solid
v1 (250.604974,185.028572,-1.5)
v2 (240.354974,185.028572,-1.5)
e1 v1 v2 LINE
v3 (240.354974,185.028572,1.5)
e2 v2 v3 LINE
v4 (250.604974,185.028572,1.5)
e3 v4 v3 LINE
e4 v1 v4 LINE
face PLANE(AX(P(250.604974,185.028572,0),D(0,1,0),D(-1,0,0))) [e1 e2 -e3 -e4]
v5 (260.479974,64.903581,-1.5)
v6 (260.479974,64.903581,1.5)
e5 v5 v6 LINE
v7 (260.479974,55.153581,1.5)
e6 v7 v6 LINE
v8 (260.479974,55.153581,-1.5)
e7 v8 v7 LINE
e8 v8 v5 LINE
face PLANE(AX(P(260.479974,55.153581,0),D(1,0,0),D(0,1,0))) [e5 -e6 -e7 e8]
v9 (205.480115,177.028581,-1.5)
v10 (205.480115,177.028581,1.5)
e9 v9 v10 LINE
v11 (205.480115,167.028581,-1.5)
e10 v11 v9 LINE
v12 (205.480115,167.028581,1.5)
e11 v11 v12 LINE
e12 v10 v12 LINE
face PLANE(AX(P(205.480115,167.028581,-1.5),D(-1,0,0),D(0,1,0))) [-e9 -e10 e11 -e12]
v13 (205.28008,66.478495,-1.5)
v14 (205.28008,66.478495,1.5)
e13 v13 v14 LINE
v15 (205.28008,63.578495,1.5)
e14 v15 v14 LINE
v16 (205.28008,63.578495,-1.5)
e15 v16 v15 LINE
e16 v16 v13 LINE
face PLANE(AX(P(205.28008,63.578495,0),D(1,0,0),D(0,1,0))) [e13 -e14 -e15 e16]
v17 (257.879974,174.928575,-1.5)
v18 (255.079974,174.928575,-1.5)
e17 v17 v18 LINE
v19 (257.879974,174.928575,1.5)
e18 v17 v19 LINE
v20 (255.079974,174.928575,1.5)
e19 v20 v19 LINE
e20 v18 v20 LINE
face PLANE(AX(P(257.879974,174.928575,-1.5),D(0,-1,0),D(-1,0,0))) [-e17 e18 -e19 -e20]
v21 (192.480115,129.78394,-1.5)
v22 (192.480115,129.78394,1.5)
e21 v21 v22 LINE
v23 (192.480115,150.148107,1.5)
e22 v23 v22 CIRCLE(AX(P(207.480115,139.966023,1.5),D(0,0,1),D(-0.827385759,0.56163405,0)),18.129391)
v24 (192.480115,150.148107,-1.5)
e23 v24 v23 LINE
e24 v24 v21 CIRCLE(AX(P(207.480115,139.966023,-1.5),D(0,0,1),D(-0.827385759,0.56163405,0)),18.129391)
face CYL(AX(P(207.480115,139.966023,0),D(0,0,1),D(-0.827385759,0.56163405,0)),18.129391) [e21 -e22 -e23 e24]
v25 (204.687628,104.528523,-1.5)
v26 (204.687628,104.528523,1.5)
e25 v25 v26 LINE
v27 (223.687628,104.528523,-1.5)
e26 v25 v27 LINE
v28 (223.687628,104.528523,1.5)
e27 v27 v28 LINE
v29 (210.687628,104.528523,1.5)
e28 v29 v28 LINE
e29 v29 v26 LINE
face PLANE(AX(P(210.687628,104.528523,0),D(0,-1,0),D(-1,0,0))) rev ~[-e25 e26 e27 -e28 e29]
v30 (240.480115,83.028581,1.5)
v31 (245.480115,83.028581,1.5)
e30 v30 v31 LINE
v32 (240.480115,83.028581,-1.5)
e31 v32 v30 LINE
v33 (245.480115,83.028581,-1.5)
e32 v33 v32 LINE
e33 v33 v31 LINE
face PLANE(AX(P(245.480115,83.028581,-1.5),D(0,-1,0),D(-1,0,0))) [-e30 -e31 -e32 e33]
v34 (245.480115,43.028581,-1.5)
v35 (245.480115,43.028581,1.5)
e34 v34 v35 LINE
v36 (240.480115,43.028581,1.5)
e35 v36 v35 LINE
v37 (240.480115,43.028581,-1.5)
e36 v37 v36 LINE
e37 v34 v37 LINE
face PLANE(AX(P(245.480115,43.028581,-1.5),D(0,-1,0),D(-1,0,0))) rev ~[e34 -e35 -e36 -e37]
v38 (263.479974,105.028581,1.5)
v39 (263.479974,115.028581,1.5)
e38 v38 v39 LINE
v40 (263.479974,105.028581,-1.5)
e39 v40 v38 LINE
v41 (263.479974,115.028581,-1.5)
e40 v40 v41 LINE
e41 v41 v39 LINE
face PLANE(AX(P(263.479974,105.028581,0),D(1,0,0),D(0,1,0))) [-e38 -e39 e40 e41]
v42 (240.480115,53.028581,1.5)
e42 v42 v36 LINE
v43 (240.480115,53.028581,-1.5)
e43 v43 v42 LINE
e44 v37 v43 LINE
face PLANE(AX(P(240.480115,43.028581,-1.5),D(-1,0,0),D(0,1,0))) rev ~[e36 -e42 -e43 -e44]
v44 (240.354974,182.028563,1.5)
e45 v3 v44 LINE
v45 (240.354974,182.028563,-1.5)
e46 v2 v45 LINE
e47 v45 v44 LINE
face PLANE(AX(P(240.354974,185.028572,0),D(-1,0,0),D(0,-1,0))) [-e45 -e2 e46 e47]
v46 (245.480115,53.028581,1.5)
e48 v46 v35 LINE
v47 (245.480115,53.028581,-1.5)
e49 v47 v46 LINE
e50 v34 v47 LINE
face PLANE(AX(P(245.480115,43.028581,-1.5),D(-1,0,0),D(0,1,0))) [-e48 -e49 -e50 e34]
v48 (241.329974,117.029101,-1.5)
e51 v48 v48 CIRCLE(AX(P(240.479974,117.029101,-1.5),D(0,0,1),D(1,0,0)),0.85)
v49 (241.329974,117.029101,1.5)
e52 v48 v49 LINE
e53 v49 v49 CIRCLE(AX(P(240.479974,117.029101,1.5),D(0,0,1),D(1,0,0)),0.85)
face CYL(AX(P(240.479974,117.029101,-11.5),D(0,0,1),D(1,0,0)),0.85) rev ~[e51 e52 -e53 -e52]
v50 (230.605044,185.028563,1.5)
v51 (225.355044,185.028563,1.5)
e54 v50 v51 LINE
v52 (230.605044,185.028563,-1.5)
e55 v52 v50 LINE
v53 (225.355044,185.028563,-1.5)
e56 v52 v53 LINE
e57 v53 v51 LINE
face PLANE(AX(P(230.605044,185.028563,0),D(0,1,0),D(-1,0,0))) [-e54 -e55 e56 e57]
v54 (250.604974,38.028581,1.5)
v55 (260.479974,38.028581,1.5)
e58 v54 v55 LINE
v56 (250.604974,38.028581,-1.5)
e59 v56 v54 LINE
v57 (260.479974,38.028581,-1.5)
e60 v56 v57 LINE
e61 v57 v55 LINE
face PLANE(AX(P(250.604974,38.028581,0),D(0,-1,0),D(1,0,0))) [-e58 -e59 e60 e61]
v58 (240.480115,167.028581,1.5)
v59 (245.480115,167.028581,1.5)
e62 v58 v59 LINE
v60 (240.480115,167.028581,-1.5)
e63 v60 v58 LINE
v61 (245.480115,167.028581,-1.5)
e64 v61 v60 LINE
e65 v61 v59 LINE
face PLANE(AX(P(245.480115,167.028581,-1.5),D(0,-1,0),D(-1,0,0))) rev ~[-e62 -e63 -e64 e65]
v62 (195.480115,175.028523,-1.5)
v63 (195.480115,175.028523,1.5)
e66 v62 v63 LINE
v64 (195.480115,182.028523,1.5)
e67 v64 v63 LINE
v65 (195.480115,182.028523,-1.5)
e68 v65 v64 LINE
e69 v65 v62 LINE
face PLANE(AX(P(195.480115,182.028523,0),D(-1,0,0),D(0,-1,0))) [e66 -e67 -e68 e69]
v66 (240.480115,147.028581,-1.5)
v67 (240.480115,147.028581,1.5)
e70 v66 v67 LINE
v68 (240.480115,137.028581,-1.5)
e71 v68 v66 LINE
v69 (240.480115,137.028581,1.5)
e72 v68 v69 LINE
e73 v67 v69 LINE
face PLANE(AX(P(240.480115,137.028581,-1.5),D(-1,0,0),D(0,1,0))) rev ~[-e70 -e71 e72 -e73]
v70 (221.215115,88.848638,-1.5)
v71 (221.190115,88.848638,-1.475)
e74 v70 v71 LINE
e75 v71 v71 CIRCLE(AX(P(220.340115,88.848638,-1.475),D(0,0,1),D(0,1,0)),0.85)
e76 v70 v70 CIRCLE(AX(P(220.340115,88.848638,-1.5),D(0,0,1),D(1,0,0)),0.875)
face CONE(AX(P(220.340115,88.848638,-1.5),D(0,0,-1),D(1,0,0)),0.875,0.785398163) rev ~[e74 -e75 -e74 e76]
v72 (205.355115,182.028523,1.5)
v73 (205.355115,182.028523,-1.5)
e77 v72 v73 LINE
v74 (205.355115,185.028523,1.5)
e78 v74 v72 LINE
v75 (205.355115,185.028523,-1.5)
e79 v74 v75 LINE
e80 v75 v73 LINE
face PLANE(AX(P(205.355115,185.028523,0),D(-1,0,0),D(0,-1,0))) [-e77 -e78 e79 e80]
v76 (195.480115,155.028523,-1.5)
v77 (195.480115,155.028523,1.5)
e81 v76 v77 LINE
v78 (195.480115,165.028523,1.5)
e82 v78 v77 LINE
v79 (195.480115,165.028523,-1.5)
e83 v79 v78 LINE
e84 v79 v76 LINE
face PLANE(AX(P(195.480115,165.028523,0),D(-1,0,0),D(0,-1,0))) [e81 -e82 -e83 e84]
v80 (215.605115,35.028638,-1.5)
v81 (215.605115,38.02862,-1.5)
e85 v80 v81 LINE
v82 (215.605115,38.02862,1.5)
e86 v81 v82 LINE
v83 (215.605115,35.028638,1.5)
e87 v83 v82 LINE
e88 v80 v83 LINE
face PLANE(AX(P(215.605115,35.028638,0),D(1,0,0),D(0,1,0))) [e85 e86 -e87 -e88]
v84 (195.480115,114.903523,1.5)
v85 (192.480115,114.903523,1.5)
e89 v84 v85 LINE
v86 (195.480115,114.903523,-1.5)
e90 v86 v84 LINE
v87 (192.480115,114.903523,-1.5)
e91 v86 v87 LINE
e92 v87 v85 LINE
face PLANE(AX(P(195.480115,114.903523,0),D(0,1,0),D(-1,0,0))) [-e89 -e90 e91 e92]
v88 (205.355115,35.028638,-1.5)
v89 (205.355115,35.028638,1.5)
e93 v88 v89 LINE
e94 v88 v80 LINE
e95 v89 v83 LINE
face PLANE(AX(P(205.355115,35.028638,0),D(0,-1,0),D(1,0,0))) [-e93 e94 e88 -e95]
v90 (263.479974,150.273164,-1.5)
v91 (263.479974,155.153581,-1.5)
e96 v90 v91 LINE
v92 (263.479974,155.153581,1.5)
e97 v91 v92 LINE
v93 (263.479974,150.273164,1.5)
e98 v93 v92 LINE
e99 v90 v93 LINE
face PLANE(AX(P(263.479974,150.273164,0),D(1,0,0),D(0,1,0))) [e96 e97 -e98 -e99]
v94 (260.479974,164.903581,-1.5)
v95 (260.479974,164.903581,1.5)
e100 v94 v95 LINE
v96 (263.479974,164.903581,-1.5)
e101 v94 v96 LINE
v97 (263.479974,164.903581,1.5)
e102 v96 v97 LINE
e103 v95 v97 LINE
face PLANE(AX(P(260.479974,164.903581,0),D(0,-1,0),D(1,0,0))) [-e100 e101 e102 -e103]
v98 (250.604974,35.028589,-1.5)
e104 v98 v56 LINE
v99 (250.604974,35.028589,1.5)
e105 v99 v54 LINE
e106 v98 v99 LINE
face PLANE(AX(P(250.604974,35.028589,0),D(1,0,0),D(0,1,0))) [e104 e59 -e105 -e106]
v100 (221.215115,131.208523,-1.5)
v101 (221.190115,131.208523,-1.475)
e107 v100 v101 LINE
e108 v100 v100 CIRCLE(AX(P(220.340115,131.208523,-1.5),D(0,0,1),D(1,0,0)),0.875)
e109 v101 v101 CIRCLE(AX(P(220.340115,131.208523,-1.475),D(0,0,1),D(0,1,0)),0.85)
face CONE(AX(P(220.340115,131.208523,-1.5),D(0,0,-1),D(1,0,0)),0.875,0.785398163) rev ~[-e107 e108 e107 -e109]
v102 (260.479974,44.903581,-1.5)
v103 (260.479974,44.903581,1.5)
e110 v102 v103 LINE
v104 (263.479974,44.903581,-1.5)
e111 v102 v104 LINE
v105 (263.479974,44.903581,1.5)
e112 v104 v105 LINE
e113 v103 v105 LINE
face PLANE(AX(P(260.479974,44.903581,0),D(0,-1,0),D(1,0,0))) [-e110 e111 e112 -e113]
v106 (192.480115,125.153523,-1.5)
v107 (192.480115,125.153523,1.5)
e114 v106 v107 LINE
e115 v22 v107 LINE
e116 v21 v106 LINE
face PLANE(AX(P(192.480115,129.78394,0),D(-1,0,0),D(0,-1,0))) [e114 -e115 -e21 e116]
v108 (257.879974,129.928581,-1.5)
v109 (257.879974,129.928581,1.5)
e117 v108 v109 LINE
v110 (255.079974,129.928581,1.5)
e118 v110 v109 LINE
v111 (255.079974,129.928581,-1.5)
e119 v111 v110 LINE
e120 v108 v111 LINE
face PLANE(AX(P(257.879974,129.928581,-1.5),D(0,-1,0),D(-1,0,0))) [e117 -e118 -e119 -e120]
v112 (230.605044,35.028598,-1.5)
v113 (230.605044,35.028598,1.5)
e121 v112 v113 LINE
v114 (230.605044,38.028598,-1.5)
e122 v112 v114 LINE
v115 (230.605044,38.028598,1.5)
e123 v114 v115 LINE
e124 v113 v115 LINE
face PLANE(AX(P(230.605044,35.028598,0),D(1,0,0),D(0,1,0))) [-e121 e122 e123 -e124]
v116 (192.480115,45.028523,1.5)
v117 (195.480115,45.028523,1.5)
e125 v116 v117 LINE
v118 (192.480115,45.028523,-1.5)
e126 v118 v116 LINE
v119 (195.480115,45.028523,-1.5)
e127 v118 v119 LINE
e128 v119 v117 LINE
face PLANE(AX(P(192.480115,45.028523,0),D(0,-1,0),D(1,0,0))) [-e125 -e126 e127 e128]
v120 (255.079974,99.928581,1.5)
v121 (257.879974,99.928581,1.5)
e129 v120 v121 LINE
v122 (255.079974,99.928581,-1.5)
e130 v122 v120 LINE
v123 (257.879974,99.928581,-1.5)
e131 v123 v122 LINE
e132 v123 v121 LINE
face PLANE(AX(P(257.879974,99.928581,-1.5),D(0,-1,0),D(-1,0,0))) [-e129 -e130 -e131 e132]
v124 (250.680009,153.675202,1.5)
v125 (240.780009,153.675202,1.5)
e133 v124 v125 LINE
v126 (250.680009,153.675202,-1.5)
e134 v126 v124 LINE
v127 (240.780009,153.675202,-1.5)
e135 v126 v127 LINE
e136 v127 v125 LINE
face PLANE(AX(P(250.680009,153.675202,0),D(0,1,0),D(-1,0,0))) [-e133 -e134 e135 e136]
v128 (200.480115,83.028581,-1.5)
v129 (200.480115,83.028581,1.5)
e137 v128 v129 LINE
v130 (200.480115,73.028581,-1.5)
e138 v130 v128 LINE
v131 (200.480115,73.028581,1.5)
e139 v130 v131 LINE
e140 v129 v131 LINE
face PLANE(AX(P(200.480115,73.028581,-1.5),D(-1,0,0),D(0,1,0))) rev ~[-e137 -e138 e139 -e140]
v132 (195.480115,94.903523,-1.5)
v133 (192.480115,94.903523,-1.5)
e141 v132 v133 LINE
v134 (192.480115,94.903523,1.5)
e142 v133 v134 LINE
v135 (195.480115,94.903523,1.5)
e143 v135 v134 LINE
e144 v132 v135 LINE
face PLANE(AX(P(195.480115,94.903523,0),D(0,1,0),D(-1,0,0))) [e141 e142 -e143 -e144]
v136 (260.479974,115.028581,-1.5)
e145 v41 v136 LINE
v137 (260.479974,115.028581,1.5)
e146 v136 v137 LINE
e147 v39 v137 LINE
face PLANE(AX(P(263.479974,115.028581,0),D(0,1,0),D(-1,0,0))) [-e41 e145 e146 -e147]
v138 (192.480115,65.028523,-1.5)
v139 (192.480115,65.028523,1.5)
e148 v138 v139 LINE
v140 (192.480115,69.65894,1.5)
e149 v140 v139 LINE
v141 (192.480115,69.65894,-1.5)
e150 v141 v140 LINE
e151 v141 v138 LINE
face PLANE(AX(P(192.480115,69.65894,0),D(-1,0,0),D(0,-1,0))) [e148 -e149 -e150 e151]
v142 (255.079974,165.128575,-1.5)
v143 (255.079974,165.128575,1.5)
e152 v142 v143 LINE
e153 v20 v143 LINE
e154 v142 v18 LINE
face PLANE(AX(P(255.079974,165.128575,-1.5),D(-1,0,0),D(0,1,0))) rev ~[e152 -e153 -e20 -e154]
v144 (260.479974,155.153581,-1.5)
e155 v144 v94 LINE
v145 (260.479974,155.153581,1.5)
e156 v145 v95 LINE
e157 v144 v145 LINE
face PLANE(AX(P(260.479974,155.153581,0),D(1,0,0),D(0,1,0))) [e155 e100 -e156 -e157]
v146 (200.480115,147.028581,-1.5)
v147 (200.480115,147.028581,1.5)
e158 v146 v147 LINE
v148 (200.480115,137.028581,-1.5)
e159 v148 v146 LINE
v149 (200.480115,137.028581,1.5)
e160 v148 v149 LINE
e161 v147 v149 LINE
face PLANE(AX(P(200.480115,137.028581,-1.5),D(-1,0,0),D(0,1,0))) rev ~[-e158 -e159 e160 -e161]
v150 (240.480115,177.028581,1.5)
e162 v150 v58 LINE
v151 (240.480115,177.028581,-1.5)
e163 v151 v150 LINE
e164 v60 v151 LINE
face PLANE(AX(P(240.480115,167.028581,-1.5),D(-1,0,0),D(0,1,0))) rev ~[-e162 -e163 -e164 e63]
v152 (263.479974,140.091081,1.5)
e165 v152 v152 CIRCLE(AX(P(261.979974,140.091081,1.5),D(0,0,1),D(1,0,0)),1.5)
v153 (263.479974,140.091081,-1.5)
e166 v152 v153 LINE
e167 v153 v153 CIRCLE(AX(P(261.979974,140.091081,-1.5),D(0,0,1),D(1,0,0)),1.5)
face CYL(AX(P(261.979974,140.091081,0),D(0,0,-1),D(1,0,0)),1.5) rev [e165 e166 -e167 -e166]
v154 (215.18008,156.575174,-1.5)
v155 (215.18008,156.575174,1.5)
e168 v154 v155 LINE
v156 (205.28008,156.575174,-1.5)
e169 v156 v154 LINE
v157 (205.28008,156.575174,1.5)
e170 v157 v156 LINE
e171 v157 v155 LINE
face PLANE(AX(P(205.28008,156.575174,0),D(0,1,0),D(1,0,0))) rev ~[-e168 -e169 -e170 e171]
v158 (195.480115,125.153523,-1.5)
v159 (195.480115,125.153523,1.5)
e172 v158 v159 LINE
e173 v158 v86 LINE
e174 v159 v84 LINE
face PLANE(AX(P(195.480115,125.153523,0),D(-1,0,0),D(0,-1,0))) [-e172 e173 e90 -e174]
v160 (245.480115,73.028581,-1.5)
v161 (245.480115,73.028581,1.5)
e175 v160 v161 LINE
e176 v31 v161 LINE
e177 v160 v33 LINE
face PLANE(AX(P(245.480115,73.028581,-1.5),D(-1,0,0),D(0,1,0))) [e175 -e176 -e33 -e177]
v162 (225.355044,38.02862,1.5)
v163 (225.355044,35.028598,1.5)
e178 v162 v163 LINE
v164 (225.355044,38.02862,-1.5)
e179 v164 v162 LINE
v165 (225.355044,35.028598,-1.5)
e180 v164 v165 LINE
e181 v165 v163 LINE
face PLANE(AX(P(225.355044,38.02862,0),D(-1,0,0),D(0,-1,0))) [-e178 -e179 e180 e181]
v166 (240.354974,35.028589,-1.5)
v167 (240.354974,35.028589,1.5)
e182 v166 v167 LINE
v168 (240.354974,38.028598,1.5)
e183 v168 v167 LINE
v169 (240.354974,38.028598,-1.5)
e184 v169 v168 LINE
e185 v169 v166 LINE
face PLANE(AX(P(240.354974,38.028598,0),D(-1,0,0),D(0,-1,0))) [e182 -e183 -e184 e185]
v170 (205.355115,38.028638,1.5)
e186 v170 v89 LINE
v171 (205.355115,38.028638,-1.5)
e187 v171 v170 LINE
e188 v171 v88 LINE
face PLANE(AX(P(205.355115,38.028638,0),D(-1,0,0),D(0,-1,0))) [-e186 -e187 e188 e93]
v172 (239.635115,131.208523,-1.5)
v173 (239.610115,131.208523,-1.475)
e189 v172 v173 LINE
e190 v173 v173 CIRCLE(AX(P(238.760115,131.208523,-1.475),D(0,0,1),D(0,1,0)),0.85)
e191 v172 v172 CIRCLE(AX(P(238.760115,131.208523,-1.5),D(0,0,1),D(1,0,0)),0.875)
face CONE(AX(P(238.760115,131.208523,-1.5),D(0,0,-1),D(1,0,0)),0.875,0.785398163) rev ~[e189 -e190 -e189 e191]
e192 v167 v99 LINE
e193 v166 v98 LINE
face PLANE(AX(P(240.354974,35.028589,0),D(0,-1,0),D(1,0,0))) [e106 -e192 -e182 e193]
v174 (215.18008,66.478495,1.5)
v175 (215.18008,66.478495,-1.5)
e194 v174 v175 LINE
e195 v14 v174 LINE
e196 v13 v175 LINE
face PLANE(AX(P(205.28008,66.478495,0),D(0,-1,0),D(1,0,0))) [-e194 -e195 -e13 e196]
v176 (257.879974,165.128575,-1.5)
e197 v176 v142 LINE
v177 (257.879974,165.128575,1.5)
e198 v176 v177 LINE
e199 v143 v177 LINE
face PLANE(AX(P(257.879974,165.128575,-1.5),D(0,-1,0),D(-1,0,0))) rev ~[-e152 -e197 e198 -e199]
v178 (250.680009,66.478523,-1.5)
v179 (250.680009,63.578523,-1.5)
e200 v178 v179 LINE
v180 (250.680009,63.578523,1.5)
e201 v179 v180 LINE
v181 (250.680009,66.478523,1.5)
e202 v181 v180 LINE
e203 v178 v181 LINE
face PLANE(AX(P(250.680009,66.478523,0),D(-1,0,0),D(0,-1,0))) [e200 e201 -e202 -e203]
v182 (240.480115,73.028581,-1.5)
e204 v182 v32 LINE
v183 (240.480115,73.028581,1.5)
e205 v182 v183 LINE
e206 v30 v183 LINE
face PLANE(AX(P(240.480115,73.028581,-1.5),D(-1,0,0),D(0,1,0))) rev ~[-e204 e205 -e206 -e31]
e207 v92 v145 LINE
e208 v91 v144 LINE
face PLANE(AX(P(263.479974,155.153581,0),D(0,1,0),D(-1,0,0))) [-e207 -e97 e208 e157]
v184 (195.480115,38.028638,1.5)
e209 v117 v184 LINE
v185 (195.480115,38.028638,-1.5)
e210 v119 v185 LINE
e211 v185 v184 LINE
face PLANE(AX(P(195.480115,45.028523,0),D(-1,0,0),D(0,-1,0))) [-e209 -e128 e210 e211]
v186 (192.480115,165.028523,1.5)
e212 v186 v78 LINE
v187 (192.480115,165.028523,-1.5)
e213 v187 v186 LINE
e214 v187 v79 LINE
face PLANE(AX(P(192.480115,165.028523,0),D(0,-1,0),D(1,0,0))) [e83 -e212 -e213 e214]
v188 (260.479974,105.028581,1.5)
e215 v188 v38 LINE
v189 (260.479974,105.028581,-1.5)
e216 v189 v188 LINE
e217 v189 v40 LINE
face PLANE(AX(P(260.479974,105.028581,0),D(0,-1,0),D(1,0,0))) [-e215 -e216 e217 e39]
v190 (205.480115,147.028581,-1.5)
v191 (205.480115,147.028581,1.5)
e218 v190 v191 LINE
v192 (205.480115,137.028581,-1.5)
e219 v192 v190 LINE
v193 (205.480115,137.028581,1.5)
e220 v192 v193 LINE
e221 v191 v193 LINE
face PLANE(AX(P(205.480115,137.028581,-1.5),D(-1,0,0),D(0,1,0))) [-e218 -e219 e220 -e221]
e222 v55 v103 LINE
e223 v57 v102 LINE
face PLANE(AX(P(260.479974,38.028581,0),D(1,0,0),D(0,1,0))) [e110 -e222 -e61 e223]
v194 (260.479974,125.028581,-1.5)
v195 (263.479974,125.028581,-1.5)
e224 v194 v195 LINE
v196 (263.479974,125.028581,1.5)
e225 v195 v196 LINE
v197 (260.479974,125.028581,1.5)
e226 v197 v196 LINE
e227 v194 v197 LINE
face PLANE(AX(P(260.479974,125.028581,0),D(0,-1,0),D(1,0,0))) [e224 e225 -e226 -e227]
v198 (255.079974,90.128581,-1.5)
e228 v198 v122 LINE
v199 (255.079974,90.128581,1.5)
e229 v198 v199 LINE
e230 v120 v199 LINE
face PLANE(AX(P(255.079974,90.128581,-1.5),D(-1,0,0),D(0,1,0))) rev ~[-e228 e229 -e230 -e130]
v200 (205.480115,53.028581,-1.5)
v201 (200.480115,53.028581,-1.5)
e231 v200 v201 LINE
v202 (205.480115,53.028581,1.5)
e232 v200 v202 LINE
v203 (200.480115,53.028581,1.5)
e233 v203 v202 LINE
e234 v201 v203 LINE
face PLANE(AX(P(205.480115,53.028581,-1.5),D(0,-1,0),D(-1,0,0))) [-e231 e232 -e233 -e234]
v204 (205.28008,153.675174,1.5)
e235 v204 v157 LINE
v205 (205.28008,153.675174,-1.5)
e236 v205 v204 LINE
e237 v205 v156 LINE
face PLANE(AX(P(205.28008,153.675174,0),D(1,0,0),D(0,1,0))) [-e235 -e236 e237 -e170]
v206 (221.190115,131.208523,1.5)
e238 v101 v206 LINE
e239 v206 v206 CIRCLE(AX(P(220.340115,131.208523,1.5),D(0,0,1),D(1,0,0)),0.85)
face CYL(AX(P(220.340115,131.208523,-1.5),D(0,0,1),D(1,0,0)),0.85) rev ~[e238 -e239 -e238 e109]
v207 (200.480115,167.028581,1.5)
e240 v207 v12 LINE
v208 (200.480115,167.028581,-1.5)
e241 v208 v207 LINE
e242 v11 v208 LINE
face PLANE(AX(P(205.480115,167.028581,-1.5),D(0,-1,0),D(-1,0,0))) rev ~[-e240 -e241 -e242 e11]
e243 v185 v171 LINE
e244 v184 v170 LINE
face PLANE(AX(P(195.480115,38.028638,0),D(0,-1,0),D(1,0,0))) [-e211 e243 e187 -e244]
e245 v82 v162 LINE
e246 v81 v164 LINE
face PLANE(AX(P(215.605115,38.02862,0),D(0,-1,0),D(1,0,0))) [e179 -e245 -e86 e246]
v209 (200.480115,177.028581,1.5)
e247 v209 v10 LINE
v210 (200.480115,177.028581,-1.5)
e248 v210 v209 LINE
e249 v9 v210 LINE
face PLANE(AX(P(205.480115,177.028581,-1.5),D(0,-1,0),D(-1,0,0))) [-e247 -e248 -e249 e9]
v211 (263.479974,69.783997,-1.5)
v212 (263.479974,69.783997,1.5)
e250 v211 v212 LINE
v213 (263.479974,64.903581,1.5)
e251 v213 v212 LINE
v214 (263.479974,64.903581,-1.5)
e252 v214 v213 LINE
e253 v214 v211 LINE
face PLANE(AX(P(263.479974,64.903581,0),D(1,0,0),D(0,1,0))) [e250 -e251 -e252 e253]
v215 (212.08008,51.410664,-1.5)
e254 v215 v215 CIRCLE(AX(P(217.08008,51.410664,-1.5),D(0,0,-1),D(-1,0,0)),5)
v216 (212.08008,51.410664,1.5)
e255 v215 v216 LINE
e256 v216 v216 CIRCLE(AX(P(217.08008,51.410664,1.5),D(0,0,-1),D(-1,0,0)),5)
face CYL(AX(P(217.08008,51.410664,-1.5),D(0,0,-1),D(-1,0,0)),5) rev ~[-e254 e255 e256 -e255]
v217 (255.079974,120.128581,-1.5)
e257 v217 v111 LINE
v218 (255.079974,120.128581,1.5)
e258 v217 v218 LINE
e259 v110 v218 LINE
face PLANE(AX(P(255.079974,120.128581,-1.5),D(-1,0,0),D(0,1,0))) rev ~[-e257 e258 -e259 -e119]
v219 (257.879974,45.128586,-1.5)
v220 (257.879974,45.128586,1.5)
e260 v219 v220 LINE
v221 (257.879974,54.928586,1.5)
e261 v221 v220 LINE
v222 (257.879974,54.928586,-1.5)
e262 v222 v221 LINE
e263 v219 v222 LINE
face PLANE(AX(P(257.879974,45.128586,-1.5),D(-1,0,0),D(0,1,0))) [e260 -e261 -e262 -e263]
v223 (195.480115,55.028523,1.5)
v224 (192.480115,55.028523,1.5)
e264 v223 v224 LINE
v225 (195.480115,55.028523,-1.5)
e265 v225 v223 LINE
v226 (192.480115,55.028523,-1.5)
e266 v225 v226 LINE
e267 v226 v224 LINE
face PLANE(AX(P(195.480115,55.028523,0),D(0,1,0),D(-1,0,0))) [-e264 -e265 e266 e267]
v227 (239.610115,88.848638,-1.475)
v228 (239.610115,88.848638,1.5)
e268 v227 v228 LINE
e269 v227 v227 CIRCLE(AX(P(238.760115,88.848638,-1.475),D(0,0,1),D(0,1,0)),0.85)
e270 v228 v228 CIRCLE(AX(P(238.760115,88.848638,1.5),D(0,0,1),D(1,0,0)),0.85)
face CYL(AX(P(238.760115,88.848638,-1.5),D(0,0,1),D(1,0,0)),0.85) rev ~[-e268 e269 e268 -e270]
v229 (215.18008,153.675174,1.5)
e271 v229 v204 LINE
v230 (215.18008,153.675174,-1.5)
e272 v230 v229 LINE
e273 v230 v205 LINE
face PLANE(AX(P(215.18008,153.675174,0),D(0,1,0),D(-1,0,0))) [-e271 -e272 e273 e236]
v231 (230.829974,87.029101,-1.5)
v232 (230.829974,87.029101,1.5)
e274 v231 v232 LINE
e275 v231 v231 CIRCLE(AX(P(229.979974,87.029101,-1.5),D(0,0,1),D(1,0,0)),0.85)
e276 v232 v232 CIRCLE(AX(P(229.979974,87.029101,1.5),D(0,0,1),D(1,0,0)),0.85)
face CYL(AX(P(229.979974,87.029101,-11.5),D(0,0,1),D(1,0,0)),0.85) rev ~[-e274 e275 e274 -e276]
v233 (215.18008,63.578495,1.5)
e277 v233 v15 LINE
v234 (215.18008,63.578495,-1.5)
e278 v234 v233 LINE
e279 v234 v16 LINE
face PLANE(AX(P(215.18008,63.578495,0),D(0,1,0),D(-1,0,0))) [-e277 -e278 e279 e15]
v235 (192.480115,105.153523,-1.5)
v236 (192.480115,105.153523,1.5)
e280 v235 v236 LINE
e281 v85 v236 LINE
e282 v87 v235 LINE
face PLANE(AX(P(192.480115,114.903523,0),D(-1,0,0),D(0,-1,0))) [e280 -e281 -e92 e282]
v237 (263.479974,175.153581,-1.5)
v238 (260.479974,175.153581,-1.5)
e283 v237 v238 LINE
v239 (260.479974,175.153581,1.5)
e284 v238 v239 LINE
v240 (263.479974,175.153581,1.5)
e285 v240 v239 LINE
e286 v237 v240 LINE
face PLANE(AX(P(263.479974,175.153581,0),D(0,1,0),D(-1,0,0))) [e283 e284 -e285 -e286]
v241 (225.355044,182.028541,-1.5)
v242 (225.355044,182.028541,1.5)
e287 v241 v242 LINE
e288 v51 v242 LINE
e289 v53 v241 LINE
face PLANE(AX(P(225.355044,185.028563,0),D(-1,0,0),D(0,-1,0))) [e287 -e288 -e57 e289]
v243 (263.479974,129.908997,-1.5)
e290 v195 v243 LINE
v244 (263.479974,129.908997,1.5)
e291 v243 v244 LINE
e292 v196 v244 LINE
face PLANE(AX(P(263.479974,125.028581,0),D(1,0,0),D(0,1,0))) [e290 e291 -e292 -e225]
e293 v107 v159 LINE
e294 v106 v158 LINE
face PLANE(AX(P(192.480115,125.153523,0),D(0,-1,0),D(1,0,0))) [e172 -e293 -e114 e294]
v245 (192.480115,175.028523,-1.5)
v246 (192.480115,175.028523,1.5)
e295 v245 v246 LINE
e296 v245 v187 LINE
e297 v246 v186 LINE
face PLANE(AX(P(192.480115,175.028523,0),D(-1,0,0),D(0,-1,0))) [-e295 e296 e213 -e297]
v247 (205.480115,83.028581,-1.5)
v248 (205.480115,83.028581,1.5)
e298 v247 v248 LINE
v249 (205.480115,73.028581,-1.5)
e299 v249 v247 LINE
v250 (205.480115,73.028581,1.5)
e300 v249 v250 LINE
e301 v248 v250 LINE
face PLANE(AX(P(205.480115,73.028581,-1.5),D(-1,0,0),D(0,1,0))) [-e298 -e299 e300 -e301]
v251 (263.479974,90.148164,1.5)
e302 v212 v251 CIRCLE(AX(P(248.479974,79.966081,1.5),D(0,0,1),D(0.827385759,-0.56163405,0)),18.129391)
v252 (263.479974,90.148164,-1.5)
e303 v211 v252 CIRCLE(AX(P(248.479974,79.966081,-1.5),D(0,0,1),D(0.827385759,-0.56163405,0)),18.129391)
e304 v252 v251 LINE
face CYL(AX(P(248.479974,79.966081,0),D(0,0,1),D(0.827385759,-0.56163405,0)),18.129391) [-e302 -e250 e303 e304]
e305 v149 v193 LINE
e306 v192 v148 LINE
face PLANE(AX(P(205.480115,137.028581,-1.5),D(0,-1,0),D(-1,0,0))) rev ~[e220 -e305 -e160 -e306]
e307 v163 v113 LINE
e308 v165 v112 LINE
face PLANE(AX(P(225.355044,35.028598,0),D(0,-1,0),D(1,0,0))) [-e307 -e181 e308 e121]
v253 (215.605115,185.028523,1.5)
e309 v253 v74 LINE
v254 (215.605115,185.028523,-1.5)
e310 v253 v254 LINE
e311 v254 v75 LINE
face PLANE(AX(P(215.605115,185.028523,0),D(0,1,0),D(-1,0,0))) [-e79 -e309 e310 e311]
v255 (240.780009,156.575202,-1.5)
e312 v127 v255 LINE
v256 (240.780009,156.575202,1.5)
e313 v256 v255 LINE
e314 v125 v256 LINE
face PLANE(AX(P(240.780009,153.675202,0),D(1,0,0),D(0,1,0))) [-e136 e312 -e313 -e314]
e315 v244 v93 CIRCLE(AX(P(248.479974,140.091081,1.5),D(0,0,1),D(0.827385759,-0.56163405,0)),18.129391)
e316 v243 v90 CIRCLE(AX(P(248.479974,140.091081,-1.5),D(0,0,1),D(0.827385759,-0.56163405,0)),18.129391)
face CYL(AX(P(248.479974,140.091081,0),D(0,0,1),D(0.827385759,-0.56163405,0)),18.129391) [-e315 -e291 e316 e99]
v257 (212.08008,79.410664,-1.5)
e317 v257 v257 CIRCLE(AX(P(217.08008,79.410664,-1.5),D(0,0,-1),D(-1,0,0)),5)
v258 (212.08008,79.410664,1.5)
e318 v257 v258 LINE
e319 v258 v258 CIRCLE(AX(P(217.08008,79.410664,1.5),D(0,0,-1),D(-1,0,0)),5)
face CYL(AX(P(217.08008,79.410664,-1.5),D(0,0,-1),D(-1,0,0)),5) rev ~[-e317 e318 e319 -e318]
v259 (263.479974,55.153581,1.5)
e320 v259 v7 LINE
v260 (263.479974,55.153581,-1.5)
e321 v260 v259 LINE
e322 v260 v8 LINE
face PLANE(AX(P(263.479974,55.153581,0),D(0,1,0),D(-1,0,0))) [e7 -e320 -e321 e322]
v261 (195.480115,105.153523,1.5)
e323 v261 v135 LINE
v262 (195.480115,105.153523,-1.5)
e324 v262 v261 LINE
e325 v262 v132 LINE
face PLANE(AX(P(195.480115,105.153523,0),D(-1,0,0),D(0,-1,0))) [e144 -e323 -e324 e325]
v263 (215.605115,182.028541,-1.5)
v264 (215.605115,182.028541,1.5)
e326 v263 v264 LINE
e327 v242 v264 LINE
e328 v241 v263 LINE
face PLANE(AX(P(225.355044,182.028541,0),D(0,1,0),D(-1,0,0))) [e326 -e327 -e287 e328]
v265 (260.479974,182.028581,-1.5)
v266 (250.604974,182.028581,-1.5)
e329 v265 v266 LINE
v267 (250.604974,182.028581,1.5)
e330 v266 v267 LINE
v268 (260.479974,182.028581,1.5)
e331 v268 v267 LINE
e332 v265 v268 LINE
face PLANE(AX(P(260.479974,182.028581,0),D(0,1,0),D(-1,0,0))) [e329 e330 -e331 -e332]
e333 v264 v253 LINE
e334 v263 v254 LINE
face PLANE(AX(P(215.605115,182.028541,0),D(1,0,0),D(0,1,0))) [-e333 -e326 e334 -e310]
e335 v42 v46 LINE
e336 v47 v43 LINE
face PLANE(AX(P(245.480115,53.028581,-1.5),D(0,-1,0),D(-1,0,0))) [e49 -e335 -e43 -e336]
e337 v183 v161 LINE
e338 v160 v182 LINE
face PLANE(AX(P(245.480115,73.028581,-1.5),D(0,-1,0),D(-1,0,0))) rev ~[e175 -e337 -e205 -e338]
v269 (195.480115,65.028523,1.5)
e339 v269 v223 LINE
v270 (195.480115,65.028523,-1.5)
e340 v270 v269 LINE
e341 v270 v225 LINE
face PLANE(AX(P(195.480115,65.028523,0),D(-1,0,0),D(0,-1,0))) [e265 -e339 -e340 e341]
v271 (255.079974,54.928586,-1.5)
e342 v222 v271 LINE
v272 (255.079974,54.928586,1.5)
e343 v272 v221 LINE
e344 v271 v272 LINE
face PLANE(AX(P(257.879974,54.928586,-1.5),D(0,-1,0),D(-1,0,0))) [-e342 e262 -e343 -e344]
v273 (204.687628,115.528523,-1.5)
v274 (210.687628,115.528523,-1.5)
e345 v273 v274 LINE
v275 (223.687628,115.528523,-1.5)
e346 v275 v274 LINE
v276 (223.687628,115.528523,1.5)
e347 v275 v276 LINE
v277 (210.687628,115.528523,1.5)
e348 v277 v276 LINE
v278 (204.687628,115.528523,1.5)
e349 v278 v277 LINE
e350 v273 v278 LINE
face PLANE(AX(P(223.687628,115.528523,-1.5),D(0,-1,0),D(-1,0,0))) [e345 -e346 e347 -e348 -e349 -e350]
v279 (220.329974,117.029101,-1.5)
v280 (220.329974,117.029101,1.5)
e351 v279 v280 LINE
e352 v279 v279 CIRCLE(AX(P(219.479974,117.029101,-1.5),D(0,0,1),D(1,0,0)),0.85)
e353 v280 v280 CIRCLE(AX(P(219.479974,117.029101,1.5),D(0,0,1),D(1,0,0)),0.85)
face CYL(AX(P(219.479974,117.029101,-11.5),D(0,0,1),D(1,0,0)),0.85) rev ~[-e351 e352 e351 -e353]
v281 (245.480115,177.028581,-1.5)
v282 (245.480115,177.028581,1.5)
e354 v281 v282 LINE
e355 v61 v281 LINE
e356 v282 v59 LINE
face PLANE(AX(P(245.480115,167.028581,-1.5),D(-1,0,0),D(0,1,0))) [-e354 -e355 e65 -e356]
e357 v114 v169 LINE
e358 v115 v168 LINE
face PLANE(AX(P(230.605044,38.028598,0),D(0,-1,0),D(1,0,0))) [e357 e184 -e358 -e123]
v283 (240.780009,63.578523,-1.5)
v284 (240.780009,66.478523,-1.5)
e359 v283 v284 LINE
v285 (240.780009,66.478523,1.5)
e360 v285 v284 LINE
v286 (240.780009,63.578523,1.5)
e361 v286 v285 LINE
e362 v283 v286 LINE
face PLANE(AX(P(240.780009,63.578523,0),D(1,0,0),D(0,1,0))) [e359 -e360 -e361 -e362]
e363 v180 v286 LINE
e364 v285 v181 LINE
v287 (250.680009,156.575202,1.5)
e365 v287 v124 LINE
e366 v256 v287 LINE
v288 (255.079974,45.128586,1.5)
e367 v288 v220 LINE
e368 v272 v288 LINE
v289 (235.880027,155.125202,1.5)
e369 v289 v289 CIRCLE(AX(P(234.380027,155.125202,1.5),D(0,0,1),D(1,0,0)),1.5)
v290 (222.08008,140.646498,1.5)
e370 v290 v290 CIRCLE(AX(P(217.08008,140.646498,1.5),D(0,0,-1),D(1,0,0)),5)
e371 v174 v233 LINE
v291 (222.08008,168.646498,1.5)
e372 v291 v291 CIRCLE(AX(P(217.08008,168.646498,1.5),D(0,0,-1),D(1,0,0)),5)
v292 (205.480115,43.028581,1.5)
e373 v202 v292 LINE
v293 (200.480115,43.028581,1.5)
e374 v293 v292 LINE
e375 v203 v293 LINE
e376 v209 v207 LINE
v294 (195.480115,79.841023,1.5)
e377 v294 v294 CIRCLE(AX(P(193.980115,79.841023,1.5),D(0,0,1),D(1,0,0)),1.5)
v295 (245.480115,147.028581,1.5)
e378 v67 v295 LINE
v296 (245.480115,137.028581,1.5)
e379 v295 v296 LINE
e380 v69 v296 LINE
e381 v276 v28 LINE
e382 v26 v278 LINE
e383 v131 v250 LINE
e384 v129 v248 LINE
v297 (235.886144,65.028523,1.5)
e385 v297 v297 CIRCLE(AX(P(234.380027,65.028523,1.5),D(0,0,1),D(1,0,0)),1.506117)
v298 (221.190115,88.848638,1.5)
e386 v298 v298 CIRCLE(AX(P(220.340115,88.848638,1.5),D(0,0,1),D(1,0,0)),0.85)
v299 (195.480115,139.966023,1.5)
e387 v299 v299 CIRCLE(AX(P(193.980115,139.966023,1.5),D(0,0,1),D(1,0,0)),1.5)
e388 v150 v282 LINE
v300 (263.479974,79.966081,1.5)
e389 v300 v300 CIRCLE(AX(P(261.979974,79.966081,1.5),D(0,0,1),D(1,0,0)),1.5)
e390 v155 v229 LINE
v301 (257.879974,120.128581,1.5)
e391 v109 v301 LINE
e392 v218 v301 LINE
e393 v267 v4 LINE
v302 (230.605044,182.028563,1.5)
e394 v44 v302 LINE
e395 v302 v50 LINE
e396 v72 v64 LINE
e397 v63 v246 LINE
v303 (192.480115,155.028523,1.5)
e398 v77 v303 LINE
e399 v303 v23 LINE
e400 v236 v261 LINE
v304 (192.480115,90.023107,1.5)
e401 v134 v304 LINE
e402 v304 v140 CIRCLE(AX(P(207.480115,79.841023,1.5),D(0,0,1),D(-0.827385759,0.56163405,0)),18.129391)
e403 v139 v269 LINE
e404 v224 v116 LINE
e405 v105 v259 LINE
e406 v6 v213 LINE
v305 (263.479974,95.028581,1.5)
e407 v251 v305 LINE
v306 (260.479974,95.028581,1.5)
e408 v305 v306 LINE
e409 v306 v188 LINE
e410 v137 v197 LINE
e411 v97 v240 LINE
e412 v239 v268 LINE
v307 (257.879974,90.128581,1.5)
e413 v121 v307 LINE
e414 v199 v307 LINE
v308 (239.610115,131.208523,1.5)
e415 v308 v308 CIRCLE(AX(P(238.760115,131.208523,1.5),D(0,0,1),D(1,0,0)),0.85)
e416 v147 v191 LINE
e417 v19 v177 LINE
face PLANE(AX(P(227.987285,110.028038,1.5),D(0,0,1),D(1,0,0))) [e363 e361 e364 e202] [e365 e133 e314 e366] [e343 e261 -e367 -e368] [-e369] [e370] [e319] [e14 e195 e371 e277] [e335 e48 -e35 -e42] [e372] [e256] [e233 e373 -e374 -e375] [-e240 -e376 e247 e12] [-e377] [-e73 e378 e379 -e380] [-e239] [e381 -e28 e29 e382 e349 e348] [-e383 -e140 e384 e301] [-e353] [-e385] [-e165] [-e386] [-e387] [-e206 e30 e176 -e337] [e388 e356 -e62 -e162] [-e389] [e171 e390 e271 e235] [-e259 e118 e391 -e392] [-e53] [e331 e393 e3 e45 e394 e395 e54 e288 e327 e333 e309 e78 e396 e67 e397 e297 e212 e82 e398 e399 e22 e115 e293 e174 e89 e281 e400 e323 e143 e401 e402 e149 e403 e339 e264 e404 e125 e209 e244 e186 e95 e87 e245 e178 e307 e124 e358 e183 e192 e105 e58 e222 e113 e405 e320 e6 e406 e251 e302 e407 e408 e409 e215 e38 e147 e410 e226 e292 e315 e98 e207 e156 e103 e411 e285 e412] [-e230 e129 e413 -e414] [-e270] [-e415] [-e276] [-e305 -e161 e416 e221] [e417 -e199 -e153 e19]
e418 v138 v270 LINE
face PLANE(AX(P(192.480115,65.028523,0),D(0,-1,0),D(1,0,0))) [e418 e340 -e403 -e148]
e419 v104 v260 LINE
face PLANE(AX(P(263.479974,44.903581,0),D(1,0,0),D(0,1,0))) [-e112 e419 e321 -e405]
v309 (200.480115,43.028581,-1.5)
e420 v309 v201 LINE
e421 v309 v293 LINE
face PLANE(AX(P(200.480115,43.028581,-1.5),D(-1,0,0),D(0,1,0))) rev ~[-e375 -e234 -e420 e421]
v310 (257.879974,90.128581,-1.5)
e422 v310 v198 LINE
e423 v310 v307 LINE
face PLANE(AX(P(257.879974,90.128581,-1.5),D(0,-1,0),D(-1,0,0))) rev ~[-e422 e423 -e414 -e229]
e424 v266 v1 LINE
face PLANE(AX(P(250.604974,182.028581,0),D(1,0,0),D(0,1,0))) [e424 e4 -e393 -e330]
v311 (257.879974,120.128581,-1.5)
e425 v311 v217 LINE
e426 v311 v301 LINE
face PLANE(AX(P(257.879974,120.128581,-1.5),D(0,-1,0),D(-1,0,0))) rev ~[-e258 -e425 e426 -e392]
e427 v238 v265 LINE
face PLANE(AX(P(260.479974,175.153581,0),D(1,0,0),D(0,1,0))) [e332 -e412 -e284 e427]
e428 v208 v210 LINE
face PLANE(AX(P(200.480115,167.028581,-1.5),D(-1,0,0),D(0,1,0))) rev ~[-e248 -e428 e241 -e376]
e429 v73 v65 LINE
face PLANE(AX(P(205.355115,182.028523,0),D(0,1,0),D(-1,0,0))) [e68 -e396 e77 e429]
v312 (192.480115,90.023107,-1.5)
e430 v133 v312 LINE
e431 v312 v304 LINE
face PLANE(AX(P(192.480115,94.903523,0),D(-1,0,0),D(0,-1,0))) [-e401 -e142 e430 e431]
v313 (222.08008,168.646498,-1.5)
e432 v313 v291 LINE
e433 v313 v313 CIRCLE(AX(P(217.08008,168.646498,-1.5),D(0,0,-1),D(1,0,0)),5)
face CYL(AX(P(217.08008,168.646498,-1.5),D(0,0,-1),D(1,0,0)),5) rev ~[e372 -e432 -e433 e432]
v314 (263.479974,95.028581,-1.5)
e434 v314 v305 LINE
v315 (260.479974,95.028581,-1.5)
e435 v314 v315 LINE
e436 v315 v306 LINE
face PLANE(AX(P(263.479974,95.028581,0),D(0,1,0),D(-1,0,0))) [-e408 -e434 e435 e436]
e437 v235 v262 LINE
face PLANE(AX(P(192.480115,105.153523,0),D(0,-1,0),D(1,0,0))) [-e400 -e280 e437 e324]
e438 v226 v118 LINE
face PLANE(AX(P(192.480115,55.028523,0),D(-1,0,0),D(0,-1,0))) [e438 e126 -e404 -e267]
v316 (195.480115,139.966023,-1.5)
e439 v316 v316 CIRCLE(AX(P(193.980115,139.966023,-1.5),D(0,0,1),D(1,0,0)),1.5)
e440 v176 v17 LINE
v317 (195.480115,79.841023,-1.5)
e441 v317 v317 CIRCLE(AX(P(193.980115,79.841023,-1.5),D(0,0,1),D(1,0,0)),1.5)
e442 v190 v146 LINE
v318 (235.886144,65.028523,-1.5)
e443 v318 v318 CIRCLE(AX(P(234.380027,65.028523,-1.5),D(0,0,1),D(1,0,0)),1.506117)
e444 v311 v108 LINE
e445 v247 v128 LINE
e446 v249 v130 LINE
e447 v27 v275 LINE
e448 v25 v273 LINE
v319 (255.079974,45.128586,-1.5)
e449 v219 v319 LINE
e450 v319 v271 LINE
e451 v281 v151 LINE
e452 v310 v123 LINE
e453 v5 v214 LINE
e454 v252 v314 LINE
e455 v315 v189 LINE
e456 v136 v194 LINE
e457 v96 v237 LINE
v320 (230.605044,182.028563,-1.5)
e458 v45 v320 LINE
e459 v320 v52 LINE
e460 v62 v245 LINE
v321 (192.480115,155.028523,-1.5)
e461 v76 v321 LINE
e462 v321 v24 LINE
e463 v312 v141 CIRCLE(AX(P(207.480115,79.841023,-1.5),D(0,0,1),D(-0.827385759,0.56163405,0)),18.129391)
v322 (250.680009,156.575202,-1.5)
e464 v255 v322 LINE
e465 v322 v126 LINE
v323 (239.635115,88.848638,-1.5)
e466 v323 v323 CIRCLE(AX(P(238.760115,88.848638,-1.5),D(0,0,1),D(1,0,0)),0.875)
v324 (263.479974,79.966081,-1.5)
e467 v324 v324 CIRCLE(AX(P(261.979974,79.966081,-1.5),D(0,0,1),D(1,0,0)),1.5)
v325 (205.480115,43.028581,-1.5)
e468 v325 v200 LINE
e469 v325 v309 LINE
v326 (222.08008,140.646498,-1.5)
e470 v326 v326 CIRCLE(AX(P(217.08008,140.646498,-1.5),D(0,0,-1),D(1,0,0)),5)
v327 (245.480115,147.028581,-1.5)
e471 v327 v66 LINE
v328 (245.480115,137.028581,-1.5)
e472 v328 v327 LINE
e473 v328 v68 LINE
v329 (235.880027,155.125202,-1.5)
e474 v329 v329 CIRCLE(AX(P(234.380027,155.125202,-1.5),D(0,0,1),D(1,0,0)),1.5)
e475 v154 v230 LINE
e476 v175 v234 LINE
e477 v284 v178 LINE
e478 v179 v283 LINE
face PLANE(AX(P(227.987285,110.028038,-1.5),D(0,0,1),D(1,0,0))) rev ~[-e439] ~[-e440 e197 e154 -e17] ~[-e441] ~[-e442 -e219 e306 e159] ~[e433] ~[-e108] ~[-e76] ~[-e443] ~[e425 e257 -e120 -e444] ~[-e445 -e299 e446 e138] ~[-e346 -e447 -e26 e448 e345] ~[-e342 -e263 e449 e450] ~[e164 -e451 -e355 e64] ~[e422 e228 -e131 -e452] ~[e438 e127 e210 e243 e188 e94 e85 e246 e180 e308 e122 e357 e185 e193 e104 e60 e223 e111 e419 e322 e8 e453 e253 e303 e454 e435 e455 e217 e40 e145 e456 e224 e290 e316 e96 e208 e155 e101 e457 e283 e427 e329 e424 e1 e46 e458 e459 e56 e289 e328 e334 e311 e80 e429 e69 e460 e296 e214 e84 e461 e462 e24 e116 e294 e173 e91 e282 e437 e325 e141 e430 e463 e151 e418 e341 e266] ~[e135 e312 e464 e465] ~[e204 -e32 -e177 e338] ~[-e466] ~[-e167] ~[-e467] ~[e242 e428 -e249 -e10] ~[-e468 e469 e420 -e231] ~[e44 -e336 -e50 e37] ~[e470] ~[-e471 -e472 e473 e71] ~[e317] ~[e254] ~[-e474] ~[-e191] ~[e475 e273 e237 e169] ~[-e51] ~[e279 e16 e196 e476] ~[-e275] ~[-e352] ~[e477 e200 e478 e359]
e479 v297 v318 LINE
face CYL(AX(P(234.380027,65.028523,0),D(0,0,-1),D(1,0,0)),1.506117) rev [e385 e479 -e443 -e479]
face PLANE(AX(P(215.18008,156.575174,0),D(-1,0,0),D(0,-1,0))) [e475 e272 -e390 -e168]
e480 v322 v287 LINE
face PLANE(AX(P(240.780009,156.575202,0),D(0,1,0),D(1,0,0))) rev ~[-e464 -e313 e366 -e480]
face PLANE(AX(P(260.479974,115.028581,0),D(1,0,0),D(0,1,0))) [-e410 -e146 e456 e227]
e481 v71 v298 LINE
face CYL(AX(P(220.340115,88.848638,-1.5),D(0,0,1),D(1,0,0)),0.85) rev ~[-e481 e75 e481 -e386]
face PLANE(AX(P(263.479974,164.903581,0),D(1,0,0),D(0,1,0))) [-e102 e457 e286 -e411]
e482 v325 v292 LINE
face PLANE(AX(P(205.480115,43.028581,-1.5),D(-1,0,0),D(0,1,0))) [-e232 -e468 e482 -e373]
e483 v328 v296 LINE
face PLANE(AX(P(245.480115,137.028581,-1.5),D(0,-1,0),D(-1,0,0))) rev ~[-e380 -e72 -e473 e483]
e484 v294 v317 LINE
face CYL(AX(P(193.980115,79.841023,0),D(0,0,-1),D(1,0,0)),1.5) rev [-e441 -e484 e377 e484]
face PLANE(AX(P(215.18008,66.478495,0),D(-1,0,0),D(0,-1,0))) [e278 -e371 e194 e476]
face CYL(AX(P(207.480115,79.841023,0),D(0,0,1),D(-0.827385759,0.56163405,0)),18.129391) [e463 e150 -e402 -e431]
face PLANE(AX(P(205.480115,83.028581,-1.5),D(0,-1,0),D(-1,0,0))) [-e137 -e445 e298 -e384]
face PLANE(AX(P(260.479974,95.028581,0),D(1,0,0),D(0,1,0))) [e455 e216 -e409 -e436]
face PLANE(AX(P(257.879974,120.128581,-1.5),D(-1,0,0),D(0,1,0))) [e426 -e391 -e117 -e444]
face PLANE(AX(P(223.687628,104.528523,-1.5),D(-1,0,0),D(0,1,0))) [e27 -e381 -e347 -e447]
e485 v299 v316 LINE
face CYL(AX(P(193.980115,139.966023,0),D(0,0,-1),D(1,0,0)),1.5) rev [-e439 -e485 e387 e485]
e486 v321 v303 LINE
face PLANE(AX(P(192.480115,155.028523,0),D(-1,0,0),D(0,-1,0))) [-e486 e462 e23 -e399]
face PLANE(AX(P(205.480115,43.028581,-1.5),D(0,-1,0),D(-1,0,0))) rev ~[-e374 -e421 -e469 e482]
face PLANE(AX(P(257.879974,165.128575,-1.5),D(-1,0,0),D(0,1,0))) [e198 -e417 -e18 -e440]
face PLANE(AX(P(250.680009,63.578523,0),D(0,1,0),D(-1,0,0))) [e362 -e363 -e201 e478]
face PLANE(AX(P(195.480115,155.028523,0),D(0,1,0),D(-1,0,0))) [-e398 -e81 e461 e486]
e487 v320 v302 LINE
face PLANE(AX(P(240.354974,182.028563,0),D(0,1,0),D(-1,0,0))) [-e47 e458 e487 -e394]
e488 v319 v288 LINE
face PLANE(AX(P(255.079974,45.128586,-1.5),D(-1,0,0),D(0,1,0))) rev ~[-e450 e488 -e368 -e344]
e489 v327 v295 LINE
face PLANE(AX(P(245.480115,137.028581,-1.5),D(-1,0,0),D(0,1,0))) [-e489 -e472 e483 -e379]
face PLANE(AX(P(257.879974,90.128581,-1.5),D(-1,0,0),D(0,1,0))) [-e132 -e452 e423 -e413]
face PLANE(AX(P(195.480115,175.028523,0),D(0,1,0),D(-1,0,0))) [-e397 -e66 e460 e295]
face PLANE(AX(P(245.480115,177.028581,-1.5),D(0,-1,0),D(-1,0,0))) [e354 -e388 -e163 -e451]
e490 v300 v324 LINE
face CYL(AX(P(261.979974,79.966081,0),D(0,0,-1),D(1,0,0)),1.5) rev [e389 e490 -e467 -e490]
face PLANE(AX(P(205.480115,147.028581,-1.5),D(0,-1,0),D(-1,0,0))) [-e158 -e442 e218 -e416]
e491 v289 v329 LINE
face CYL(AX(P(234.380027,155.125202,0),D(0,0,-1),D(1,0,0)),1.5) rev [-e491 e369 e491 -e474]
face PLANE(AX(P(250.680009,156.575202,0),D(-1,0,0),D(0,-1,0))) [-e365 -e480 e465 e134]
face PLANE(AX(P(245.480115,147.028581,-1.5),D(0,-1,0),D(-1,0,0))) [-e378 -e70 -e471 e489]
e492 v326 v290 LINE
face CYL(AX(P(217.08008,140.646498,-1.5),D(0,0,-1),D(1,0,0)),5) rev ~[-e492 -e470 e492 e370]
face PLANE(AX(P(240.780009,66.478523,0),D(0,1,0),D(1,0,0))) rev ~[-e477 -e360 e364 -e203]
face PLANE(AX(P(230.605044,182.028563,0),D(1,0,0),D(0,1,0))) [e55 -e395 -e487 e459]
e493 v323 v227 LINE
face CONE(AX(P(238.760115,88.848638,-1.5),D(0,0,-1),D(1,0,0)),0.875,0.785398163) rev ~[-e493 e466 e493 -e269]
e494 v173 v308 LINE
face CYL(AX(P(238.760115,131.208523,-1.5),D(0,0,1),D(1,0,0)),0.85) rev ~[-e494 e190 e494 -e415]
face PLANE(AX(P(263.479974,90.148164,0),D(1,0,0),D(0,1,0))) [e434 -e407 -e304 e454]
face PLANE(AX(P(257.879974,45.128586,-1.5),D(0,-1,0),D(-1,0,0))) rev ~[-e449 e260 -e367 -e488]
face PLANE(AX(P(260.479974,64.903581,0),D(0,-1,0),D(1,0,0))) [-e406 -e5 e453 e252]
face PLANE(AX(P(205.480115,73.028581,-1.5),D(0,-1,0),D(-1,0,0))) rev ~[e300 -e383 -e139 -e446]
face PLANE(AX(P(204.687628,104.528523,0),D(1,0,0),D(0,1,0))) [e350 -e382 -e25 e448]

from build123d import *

# Parameters (mm, degrees)
CROQUIS1_R                               = 1.5
CROQUIS1_R_2                             = 1.506117052
SALIENTE_EXTRUIR1_DEPTH                  = 1.5
CROQUIS3_W                               = 13
CROQUIS3_H                               = 10.999999999
CORTAR_EXTRUIR2_DEPTH                    = 10
TALADRO_DE_MARGEN_PARA_M1_61_D           = 1.7
TALADRO_DE_MARGEN_PARA_M1_61_CSINK_D     = 1.75
TALADRO_DE_MARGEN_PARA_M1_61_CSINK_ANGLE = 90
CROQUIS10_W                              = 5
CROQUIS10_H                              = 10
CORTAR_EXTRUIR3_DEPTH                    = 10
TALADRO_DE_MARGEN_PARA_M1_62_D           = 1.7
TALADRO_DE_MARGEN_PARA_M1_62_DEPTH       = 10
TALADRO_DE_MARGEN_PARA_M1_62_TIP         = 0.510731526
CROQUIS14_W                              = 2.8
CROQUIS14_H                              = 9.8
CORTAR_EXTRUIR4_DEPTH                    = 10
CROQUIS15_R                              = 5
CORTAR_EXTRUIR5_DEPTH                    = 10


with BuildPart() as part:
    # Croquis1 → Saliente-Extruir1 (new, symmetric)
    with BuildSketch(Plane.XY):
        with BuildLine():
            Line((205.355115241, 182.028523427), (195.480115242, 182.028523427))
            Line((195.480115242, 182.028523427), (195.480115242, 175.028523428))
            Line((195.480115242, 175.028523428), (192.480115242, 175.028523428))
            Line((192.480115242, 175.028523428), (192.480115242, 165.028523428))
            Line((192.480115242, 165.028523428), (195.480115242, 165.028523428))
            Line((195.480115242, 165.028523428), (195.480115242, 155.028523429))
            Line((195.480115242, 155.028523429), (192.480115242, 155.028523429))
            Line((192.480115242, 155.028523429), (192.480115242, 150.148106778))
            ThreePointArc((192.480115242, 150.148106778), (189.350724152, 139.96602343), (192.480115242, 129.783940083))
            Line((192.480115242, 129.783940083), (192.480115242, 125.153523431))
            Line((192.480115242, 125.153523431), (195.480115242, 125.153523431))
            Line((195.480115242, 125.153523431), (195.480115242, 114.903523432))
            Line((195.480115242, 114.903523432), (192.480115242, 114.903523432))
            Line((192.480115242, 114.903523432), (192.480115242, 105.153523433))
            Line((192.480115242, 105.153523433), (195.480115242, 105.153523433))
            Line((195.480115242, 105.153523433), (195.480115242, 94.903523434))
            Line((195.480115242, 94.903523434), (192.480115242, 94.903523434))
            Line((192.480115242, 94.903523434), (192.480115242, 90.023106782))
            ThreePointArc((192.480115242, 90.023106782), (189.350724152, 79.841023435), (192.480115242, 69.658940087))
            Line((192.480115242, 69.658940087), (192.480115242, 65.028523436))
            Line((192.480115242, 65.028523436), (195.480115242, 65.028523436))
            Line((195.480115242, 65.028523436), (195.480115242, 55.028523436))
            Line((195.480115242, 55.028523436), (192.480115242, 55.028523436))
            Line((192.480115242, 55.028523436), (192.480115242, 45.028523437))
            Line((192.480115242, 45.028523437), (195.480115242, 45.028523437))
            Line((195.480115242, 45.028523437), (195.480115242, 38.028637727))
            Line((195.480115242, 38.028637727), (205.355115241, 38.028637727))
            Line((205.355115241, 38.028637727), (205.355115241, 35.028637727))
            Line((205.355115241, 35.028637727), (215.605115241, 35.028637727))
            Line((215.605115241, 35.028637727), (215.605115241, 38.028620144))
            Line((215.605115241, 38.028620144), (225.355044383, 38.028620144))
            Line((225.355044383, 38.028620144), (225.355044383, 35.028598165))
            Line((225.355044383, 35.028598165), (230.605044383, 35.028598165))
            Line((230.605044383, 35.028598165), (230.605044383, 38.028598165))
            Line((230.605044383, 38.028598165), (240.354973525, 38.028598165))
            Line((240.354973525, 38.028598165), (240.354973525, 35.028589374))
            Line((240.354973525, 35.028589374), (250.604973524, 35.028589374))
            Line((250.604973524, 35.028589374), (250.604973524, 38.028580582))
            Line((250.604973524, 38.028580582), (260.479973524, 38.028580582))
            Line((260.479973524, 38.028580582), (260.479973524, 44.903580582))
            Line((260.479973524, 44.903580582), (263.479973523, 44.903580582))
            Line((263.479973523, 44.903580582), (263.479973523, 55.153580581))
            Line((263.479973523, 55.153580581), (260.479973524, 55.153580581))
            Line((260.479973524, 55.153580581), (260.479973524, 64.90358058))
            Line((260.479973524, 64.90358058), (263.479973523, 64.90358058))
            Line((263.479973523, 64.90358058), (263.479973523, 69.783997232))
            ThreePointArc((263.479973523, 69.783997232), (266.609364614, 79.966080579), (263.479973523, 90.148163927))
            Line((263.479973523, 90.148163927), (263.479973523, 95.028580578))
            Line((263.479973523, 95.028580578), (260.479973524, 95.028580578))
            Line((260.479973524, 95.028580578), (260.479973524, 105.028580577))
            Line((260.479973524, 105.028580577), (263.479973523, 105.028580577))
            Line((263.479973523, 105.028580577), (263.479973523, 115.028580577))
            Line((263.479973523, 115.028580577), (260.479973524, 115.028580577))
            Line((260.479973524, 115.028580577), (260.479973524, 125.028580576))
            Line((260.479973524, 125.028580576), (263.479973523, 125.028580576))
            Line((263.479973523, 125.028580576), (263.479973523, 129.908997227))
            ThreePointArc((263.479973523, 129.908997227), (266.609364614, 140.091080575), (263.479973523, 150.273163922))
            Line((263.479973523, 150.273163922), (263.479973523, 155.153580574))
            Line((263.479973523, 155.153580574), (260.479973524, 155.153580574))
            Line((260.479973524, 155.153580574), (260.479973524, 164.903580573))
            Line((260.479973524, 164.903580573), (263.479973523, 164.903580573))
            Line((263.479973523, 164.903580573), (263.479973523, 175.153580572))
            Line((263.479973523, 175.153580572), (260.479973524, 175.153580572))
            Line((260.479973524, 175.153580572), (260.479973524, 182.028580572))
            Line((260.479973524, 182.028580572), (250.604973524, 182.028580572))
            Line((250.604973524, 182.028580572), (250.604973524, 185.02857178))
            Line((250.604973524, 185.02857178), (240.354973525, 185.02857178))
            Line((240.354973525, 185.02857178), (240.354973525, 182.028562989))
            Line((240.354973525, 182.028562989), (230.605044383, 182.028562989))
            Line((230.605044383, 182.028562989), (230.605044383, 185.028562989))
            Line((230.605044383, 185.028562989), (225.355044383, 185.028562989))
            Line((225.355044383, 185.028562989), (225.355044383, 182.02854101))
            Line((225.355044383, 182.02854101), (215.605115241, 182.02854101))
            Line((215.605115241, 182.02854101), (215.605115241, 185.028523427))
            Line((215.605115241, 185.028523427), (205.355115241, 185.028523427))
            Line((205.355115241, 185.028523427), (205.355115241, 182.028523427))
        make_face()
        Polygon((215.180079812, 63.578494864), (210.095175212, 63.578494864), (205.280079813, 63.578494864), (205.280079813, 65.17614563), (205.280079813, 66.478494863), (210.095175212, 66.478494863), (215.180079812, 66.478494863), (215.180079812, 65.17614563), align=None, mode=Mode.SUBTRACT)
        with Locations((193.980115242, 79.841023435)):
            Circle(CROQUIS1_R, mode=Mode.SUBTRACT)
        Polygon((204.687627513, 115.528523432), (207.487627511, 115.528523432), (210.687627512, 115.528523432), (210.687627512, 109.828523436), (210.687627512, 104.528523433), (207.487627511, 104.528523433), (204.687627513, 104.528523433), (204.687627513, 110.228523436), align=None, mode=Mode.SUBTRACT)
        with Locations((234.380026668, 65.028523436)):
            Circle(CROQUIS1_R_2, mode=Mode.SUBTRACT)
        Polygon((250.680008953, 63.578523436), (245.595104353, 63.578523436), (240.780008954, 63.578523436), (240.780008954, 65.176174202), (240.780008954, 66.478523436), (245.595104353, 66.478523436), (250.680008953, 66.478523436), (250.680008953, 65.176174202), align=None, mode=Mode.SUBTRACT)
        with Locations((261.979973524, 79.966080579)):
            Circle(CROQUIS1_R, mode=Mode.SUBTRACT)
        with Locations((193.980115242, 139.96602343)):
            Circle(CROQUIS1_R, mode=Mode.SUBTRACT)
        Polygon((215.180079812, 153.675173656), (210.095175212, 153.675173656), (205.280079813, 153.675173656), (205.280079813, 155.272824422), (205.280079813, 156.575173656), (210.095175212, 156.575173656), (215.180079812, 156.575173656), (215.180079812, 155.272824422), align=None, mode=Mode.SUBTRACT)
        with Locations((261.979973524, 140.091080575)):
            Circle(CROQUIS1_R, mode=Mode.SUBTRACT)
        with Locations((234.380026668, 155.125202228)):
            Circle(CROQUIS1_R, mode=Mode.SUBTRACT)
        Polygon((250.680008953, 153.675202228), (245.864913553, 153.675202228), (240.780008954, 153.675202228), (240.780008954, 155.272852994), (240.780008954, 156.575202228), (245.864913553, 156.575202228), (250.680008953, 156.575202228), (250.680008953, 155.272852994), align=None, mode=Mode.SUBTRACT)
    extrude(amount=SALIENTE_EXTRUIR1_DEPTH, both=True)

    # Croquis3 → Cortar-Extruir2 (cut)
    with BuildSketch(Plane(origin=(0, 0, -1.5), x_dir=(-1, 0, 0), z_dir=(0, 0, -1))):
        with Locations((-217.187627512, 110.028523433)):
            Rectangle(CROQUIS3_W, CROQUIS3_H)
    extrude(amount=-CORTAR_EXTRUIR2_DEPTH, mode=Mode.SUBTRACT)

    # Taladro de margen para M1.61 (through all)
    with Locations(Plane(origin=(0, 0, -1.5), x_dir=(-1, 0, 0), z_dir=(0, 0, -1))):
        with Locations((-238.760115242, 131.208523432), (-220.340115242, 131.208523432), (-220.340115242, 88.848637722), (-238.760115242, 88.848637722)):
            CounterSinkHole(TALADRO_DE_MARGEN_PARA_M1_61_D / 2, TALADRO_DE_MARGEN_PARA_M1_61_CSINK_D / 2, counter_sink_angle=TALADRO_DE_MARGEN_PARA_M1_61_CSINK_ANGLE)

    # Croquis10 → Cortar-Extruir3 (cut)
    with BuildSketch(Plane(origin=(0, 0, -1.5), x_dir=(-1, 0, 0), z_dir=(0, 0, -1))):
        with Locations((-202.980115242, 142.028580577)):
            Rectangle(CROQUIS10_W, CROQUIS10_H)
        with Locations((-202.980115242, 172.028580577)):
            Rectangle(CROQUIS10_W, CROQUIS10_H)
        with Locations((-202.980115242, 78.028580577)):
            Rectangle(CROQUIS10_W, CROQUIS10_H)
        with Locations((-202.980115242, 48.028580577)):
            Rectangle(CROQUIS10_W, CROQUIS10_H)
        with Locations((-242.980115242, 48.028580577)):
            Rectangle(CROQUIS10_W, CROQUIS10_H)
        with Locations((-242.980115242, 78.028580577)):
            Rectangle(CROQUIS10_W, CROQUIS10_H)
        with Locations((-242.980115242, 172.028580577)):
            Rectangle(CROQUIS10_W, CROQUIS10_H)
        with Locations((-242.980115242, 142.028580577)):
            Rectangle(CROQUIS10_W, CROQUIS10_H)
    extrude(amount=-CORTAR_EXTRUIR3_DEPTH, mode=Mode.SUBTRACT)

    # Taladro de margen para M1.62
    with Locations(Plane(origin=(0, 0, -1.5), x_dir=(-1, 0, 0), z_dir=(0, 0, -1))):
        with Locations((-240.479973524, 117.029100767), (-219.479973524, 117.029100767), (-229.979973524, 87.029100767), (-170.093156085, 124.870857212)):
            Hole(TALADRO_DE_MARGEN_PARA_M1_62_D / 2, depth=TALADRO_DE_MARGEN_PARA_M1_62_DEPTH)
            with Locations((0, 0, -(TALADRO_DE_MARGEN_PARA_M1_62_DEPTH + TALADRO_DE_MARGEN_PARA_M1_62_TIP / 2))):  # 118° drill point
                Cone(0, TALADRO_DE_MARGEN_PARA_M1_62_D / 2, TALADRO_DE_MARGEN_PARA_M1_62_TIP, mode=Mode.SUBTRACT)

    # Croquis14 → Cortar-Extruir4 (cut)
    with BuildSketch(Plane(origin=(0, 0, -1.5), x_dir=(-1, 0, 0), z_dir=(0, 0, -1))):
        with Locations((-256.479973523, 170.028574939)):
            Rectangle(CROQUIS14_W, CROQUIS14_H)
        with Locations((-256.479973523, 50.028586215)):
            Rectangle(CROQUIS14_W, CROQUIS14_H)
        with Locations((-256.479973523, 95.028580577)):
            Rectangle(CROQUIS14_W, CROQUIS14_H)
        with Locations((-256.479973523, 125.028580577)):
            Rectangle(CROQUIS14_W, CROQUIS14_H)
    extrude(amount=-CORTAR_EXTRUIR4_DEPTH, mode=Mode.SUBTRACT)

    # Croquis15 → Cortar-Extruir5 (cut)
    with BuildSketch(Plane(origin=(0, 0, -1.5), x_dir=(-1, 0, 0), z_dir=(0, 0, -1))):
        with Locations((-217.080079819, 51.410663554)):
            Circle(CROQUIS15_R)
        with Locations((-217.080079819, 79.410663554)):
            Circle(CROQUIS15_R)
        with Locations(Location((-217.080079819, 140.6464976, 0), (0, 0, 180))):
            Circle(CROQUIS15_R)
        with Locations(Location((-217.080079819, 168.6464976, 0), (0, 0, 180))):
            Circle(CROQUIS15_R)
    extrude(amount=-CORTAR_EXTRUIR5_DEPTH, mode=Mode.SUBTRACT)


solid = part.part
